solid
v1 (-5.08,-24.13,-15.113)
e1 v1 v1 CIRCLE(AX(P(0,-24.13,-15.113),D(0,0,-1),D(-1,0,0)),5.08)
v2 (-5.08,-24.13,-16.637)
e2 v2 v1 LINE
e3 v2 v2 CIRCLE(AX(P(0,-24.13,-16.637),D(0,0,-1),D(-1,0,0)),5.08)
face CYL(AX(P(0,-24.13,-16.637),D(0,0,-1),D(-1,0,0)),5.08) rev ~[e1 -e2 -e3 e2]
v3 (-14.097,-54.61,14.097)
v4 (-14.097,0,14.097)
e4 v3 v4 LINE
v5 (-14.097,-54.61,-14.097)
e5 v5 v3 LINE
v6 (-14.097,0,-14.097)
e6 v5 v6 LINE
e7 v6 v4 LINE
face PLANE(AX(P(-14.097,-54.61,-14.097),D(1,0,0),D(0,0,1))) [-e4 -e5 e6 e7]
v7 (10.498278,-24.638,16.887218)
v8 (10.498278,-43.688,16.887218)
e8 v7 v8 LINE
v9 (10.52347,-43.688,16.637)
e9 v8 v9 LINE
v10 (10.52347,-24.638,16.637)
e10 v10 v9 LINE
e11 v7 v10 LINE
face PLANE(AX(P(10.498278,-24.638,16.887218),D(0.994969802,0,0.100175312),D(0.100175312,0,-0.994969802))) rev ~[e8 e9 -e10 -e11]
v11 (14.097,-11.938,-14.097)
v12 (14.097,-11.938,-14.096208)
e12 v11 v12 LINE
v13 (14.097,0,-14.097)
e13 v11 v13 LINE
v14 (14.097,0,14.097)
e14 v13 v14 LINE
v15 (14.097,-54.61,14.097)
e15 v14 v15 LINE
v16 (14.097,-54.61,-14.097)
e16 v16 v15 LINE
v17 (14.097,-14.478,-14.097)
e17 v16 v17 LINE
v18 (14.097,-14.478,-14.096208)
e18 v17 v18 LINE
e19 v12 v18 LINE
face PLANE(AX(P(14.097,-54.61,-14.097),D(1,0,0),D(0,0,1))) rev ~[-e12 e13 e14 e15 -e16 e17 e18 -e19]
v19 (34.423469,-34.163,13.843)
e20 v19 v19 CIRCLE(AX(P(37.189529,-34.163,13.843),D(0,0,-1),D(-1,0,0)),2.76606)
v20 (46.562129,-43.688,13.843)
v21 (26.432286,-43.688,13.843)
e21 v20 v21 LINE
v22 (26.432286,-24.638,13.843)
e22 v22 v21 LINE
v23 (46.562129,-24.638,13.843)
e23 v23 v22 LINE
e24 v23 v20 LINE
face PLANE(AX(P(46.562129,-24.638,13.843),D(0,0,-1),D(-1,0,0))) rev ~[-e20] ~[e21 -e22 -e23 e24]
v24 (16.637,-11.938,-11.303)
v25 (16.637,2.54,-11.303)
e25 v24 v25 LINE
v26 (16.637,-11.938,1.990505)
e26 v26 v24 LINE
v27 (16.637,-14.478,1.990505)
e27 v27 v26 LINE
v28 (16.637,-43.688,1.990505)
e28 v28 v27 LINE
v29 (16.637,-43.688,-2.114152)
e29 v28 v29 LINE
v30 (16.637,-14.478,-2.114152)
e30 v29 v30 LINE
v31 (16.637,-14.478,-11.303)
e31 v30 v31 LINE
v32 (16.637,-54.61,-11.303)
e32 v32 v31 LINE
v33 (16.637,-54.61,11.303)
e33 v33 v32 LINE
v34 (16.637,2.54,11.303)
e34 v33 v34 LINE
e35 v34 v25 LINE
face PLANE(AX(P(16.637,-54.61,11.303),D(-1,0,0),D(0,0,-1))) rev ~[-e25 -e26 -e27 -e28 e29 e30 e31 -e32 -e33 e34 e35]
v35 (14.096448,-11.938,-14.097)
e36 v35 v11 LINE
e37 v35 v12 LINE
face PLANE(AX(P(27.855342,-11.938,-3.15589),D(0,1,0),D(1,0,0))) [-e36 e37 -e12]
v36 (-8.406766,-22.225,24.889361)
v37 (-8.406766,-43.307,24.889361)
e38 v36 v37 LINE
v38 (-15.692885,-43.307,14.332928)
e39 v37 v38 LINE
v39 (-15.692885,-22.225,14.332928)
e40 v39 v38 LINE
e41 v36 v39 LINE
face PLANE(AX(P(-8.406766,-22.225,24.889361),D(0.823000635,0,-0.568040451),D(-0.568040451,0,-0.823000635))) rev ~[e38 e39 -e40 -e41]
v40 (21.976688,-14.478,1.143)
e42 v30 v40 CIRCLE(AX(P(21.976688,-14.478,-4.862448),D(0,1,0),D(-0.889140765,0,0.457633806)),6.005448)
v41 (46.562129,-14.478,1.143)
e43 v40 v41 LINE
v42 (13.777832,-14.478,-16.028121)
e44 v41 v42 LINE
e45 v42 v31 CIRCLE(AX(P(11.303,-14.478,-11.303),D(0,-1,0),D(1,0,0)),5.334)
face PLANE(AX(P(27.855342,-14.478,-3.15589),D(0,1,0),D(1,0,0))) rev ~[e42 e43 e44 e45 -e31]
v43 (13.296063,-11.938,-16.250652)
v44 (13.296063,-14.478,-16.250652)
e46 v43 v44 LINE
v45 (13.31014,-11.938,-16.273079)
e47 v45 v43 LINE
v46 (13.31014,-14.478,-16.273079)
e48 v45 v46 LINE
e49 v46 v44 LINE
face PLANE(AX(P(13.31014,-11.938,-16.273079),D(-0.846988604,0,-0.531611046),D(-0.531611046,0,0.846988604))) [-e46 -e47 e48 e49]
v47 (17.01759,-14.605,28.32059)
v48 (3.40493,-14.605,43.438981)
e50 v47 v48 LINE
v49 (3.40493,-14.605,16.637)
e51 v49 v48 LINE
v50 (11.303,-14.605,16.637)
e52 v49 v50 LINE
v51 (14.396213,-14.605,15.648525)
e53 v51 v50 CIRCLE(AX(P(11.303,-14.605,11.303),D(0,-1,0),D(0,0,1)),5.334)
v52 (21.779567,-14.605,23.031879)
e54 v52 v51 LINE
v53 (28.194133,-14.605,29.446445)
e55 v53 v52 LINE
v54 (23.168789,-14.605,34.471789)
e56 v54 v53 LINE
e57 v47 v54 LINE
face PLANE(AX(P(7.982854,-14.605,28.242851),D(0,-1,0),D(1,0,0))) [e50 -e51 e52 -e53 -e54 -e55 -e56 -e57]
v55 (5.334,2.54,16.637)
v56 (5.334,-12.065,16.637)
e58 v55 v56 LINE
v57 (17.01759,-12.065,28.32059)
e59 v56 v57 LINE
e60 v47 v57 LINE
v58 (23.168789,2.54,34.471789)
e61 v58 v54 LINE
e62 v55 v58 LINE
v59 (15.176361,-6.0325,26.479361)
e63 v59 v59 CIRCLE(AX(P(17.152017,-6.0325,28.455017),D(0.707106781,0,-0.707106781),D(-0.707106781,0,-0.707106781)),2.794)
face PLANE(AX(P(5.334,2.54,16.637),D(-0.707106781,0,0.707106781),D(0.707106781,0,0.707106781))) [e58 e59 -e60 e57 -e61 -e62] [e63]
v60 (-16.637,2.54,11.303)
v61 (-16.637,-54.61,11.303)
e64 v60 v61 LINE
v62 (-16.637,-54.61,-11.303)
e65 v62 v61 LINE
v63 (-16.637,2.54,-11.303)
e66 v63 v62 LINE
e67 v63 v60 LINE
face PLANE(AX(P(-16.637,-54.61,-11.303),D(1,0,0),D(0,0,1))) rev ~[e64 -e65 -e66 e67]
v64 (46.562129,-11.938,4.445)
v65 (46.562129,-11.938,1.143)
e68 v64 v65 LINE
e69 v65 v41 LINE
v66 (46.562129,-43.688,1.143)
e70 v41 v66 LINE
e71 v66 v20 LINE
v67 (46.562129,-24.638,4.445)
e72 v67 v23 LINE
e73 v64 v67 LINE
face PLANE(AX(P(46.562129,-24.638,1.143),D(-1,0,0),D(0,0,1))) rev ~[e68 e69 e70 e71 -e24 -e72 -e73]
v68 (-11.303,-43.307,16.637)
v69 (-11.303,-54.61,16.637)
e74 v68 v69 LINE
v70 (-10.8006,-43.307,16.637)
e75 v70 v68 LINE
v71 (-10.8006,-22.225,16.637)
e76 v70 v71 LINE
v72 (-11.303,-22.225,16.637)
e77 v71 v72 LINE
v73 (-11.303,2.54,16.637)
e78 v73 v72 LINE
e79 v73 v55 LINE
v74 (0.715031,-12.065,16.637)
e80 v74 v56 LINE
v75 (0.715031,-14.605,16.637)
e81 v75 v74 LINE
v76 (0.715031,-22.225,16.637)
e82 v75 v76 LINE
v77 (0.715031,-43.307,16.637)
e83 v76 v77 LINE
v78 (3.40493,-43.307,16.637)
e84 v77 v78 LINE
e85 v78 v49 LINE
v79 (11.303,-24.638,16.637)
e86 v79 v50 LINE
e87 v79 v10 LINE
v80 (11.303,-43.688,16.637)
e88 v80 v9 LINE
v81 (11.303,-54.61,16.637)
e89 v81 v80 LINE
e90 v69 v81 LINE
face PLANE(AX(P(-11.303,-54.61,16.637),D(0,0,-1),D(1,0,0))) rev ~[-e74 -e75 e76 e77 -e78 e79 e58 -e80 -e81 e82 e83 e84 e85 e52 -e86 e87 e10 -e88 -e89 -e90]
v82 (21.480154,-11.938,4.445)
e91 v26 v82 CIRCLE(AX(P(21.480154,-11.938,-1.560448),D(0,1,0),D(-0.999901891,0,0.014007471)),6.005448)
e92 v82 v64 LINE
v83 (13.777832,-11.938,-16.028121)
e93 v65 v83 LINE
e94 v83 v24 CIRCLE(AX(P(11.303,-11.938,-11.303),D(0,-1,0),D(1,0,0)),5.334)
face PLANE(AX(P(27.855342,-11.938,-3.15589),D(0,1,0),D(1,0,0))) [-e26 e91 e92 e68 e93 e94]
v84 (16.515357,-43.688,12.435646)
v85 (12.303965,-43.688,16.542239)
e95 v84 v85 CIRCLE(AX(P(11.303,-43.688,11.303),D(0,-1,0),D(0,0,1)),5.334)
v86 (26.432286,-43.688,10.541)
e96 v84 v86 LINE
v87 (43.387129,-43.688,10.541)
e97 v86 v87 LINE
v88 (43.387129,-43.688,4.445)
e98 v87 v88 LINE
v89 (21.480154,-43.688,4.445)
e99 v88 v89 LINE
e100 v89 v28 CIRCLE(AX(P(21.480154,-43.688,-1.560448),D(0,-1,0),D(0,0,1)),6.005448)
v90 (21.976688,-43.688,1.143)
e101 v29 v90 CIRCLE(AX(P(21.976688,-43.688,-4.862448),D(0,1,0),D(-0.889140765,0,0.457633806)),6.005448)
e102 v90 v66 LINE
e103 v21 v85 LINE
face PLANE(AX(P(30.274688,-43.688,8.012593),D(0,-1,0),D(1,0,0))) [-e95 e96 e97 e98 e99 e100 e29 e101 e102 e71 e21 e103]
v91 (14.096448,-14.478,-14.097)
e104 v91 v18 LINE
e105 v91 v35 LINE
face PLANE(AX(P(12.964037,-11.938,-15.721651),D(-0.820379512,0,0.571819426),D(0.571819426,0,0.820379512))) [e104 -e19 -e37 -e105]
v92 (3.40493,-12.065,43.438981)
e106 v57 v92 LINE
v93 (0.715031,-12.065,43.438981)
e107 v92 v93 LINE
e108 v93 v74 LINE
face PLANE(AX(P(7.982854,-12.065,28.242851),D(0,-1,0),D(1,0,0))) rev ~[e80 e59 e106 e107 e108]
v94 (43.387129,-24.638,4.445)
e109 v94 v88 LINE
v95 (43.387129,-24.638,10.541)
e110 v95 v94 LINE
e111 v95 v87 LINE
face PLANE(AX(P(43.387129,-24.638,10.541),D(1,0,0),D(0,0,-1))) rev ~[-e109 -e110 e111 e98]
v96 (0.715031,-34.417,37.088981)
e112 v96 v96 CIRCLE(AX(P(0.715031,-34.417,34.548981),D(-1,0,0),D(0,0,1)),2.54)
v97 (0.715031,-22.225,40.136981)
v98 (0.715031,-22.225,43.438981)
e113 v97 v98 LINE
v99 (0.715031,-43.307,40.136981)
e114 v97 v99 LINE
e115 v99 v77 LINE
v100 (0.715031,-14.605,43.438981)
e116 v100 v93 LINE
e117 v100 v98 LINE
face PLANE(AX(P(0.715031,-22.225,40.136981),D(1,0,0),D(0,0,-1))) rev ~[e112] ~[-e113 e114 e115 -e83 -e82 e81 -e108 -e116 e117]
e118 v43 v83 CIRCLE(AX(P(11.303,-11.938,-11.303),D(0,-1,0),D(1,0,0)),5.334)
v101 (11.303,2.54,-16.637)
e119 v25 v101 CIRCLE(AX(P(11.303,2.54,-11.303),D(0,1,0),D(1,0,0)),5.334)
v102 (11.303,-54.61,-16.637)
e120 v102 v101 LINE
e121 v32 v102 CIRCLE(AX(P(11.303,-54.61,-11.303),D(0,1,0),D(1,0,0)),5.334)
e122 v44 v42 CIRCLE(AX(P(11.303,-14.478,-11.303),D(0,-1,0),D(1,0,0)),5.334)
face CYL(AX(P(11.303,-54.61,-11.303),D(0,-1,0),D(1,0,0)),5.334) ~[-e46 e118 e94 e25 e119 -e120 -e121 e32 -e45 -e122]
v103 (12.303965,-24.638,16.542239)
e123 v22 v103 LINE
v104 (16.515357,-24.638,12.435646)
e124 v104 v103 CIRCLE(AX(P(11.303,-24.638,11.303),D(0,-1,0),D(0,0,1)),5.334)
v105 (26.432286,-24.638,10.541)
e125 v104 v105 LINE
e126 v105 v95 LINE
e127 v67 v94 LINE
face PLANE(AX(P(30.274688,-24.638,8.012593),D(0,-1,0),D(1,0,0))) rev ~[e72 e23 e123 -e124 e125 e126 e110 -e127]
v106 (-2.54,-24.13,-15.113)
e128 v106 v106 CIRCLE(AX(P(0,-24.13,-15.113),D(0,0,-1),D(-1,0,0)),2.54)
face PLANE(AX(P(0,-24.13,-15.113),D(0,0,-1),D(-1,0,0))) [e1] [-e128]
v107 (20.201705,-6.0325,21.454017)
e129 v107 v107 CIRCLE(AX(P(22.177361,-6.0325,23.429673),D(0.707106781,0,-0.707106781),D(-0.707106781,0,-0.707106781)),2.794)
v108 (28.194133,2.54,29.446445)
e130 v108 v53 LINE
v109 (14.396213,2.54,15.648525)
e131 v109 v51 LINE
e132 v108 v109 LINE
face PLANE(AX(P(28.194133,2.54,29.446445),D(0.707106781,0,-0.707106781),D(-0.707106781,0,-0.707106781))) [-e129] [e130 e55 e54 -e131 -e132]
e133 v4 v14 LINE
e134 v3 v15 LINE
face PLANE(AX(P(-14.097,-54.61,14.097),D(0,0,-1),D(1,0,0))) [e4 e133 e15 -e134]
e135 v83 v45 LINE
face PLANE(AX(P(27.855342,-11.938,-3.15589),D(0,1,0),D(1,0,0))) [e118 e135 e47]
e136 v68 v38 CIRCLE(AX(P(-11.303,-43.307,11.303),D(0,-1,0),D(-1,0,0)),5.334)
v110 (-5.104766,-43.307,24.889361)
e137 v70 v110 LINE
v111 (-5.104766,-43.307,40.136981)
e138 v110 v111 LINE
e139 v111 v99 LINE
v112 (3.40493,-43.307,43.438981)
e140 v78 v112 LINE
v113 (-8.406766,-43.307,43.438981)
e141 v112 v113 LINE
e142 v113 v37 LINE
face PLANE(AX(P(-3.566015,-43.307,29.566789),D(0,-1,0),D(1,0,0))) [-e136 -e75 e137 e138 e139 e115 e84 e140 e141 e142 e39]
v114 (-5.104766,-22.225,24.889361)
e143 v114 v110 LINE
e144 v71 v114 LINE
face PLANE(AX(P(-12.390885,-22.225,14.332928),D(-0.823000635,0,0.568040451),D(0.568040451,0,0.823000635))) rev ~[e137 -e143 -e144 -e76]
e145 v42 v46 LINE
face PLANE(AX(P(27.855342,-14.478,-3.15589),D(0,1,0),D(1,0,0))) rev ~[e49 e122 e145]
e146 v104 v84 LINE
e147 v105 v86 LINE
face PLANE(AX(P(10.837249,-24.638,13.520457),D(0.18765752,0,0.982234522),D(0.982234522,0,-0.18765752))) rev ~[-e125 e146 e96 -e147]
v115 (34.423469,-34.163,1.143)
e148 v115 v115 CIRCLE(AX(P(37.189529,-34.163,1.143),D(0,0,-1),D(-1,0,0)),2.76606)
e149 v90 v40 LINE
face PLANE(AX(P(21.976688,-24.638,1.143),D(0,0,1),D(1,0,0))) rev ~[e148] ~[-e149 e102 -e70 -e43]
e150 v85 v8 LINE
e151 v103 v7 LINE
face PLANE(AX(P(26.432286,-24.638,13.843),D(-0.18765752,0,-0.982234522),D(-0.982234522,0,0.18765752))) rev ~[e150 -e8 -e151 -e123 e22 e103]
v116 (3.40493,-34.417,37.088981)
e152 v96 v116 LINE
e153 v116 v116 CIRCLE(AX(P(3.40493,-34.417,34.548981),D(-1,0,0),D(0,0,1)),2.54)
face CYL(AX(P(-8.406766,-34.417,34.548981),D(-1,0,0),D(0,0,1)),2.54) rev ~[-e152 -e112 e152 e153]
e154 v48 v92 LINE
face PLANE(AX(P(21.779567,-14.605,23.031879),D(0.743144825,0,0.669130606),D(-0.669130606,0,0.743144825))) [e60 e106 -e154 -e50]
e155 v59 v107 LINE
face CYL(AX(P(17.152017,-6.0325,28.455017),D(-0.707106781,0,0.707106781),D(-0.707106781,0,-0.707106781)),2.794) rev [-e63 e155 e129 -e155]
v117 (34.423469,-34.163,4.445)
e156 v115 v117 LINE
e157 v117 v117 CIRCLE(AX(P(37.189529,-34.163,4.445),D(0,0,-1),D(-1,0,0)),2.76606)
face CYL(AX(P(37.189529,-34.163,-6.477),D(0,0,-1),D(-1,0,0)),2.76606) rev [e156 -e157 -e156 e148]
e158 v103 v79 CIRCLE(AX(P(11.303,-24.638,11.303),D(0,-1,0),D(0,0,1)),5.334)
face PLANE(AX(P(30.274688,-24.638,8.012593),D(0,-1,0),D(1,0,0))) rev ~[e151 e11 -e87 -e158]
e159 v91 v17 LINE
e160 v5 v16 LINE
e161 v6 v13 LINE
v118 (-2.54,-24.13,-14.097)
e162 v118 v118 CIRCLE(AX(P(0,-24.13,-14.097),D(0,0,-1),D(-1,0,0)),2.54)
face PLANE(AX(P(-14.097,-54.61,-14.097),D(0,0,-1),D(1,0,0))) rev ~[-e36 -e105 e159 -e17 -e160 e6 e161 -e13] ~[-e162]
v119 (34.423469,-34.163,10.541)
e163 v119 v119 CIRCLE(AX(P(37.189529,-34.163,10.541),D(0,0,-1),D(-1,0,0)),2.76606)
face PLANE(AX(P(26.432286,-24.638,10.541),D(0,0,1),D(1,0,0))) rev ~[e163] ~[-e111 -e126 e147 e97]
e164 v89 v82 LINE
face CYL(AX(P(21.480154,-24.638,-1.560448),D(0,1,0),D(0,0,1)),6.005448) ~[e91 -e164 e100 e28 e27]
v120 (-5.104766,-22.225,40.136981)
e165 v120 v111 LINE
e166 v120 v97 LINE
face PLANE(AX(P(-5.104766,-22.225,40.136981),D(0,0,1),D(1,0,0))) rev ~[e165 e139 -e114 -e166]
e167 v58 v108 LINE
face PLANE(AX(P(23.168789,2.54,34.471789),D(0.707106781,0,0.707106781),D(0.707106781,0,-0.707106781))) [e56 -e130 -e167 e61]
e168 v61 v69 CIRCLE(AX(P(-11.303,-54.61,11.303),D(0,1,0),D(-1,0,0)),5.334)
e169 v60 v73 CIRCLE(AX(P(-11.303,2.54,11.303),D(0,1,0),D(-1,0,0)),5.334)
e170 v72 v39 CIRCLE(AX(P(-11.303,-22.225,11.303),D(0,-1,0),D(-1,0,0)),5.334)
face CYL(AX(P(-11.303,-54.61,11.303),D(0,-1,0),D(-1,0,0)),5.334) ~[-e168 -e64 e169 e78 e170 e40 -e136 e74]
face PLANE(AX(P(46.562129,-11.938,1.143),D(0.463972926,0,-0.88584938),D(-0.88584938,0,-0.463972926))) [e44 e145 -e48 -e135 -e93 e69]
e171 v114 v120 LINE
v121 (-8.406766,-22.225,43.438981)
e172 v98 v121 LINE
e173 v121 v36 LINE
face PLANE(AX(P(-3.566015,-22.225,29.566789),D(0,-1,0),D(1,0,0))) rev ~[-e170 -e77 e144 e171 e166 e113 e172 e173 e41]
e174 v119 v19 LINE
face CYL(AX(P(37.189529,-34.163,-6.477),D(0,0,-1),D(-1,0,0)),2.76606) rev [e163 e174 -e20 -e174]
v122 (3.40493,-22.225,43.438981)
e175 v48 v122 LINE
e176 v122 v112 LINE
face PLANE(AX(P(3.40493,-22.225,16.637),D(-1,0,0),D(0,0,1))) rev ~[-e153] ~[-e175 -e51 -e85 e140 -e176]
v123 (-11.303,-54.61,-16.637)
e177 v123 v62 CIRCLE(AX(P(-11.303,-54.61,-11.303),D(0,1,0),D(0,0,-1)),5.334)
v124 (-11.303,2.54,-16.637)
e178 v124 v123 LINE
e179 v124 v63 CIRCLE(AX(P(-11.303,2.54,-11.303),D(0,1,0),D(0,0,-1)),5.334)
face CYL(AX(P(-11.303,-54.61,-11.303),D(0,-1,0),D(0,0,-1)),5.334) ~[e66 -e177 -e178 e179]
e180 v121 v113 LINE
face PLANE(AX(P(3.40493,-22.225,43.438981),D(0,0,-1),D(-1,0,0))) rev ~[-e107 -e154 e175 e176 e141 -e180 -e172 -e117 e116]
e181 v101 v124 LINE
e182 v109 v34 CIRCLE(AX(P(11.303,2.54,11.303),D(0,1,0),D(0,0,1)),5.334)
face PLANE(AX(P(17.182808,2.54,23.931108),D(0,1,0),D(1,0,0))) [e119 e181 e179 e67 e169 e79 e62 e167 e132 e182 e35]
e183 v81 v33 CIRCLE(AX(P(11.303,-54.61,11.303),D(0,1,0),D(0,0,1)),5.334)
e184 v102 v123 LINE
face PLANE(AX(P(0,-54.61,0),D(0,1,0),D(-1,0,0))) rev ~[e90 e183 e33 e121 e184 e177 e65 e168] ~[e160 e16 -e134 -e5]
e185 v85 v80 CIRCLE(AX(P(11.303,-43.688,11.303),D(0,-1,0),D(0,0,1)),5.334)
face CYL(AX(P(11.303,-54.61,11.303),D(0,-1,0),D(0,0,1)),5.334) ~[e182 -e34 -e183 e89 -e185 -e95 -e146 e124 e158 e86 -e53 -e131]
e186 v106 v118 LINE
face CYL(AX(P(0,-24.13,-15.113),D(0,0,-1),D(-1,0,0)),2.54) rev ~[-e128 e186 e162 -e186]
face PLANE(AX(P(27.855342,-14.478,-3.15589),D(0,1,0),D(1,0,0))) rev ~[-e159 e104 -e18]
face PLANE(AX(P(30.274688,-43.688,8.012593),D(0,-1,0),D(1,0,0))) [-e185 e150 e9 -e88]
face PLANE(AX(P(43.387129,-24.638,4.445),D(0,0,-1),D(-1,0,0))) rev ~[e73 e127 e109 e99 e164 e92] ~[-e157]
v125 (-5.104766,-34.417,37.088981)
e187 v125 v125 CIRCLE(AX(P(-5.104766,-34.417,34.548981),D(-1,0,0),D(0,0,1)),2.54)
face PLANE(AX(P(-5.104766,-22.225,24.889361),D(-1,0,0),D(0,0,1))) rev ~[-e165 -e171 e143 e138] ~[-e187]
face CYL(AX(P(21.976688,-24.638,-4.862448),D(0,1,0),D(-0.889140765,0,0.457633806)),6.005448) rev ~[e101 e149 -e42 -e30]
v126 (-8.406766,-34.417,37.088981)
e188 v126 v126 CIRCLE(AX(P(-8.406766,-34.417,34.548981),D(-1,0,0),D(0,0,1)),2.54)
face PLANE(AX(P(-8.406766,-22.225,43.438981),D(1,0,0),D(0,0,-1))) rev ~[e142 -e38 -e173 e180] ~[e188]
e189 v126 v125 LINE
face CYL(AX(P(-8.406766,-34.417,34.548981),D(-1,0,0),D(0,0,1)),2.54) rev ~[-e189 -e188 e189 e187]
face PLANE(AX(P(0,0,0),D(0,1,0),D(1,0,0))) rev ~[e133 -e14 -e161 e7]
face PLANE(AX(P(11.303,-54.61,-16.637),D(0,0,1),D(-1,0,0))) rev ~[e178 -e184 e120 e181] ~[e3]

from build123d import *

# Parameters (mm, degrees)
BOSS_EXTRUDE1_DEPTH     = 2.54
BOSS_EXTRUDE2_START     = 54.61
SKETCH2_W               = 28.194
SKETCH2_H               = 28.194
BOSS_EXTRUDE2_DEPTH     = 54.61
SKETCH4_R               = 5.08
CUT_EXTRUDE2_DEPTH      = 1.524
SKETCH5_R               = 2.54
CUT_EXTRUDE3_DEPTH      = 1.016
BOSS_EXTRUDE3_DEPTH     = 17.145
CUT_EXTRUDE4_START      = -7.10691
SKETCH7_R               = 2.794
CUT_EXTRUDE4_DEPTH      = 7.10691
BOSS_EXTRUDE4_DEPTH     = 2.54
BOSS_EXTRUDE5_DEPTH     = 10.16
BOSS_EXTRUDE6_DEPTH     = 19.05
CUT_EXTRUDE5_DEPTH      = 13.716
CUT_EXTRUDE5_DEPTH_BACK = 20.32
SKETCH13_R              = 2.76606
BOSS_EXTRUDE12_DEPTH    = 2.54
SKETCH15_W              = 2.689899245
SKETCH15_H              = 26.801981191
BOSS_EXTRUDE13_DEPTH    = 7.62
BOSS_EXTRUDE14_DEPTH    = 21.082
SKETCH17_R              = 2.54
CUT_EXTRUDE7_DEPTH      = 21.082
CUT_EXTRUDE8_DEPTH      = 21.082


with BuildPart() as part:
    # Sketch1 → Boss-Extrude1 (new body)
    with BuildSketch(Plane(origin=(0, 0, 0), x_dir=(1, 0, 0), z_dir=(0, 1, 0))):
        with BuildLine():
            Line((-11.303, -16.637), (11.303, -16.637))
            ThreePointArc((11.303, -16.637), (15.074707571, -15.074707571), (16.637, -11.303))
            Line((16.637, -11.303), (16.637, 11.303))
            ThreePointArc((16.637, 11.303), (15.074707571, 15.074707571), (11.303, 16.637))
            Line((11.303, 16.637), (-11.303, 16.637))
            ThreePointArc((-11.303, 16.637), (-15.074707571, 15.074707571), (-16.637, 11.303))
            Line((-16.637, 11.303), (-16.637, -11.303))
            ThreePointArc((-16.637, -11.303), (-15.074707571, -15.074707571), (-11.303, -16.637))
        make_face()
    extrude(amount=BOSS_EXTRUDE1_DEPTH)

    # Sketch2 → Boss-Extrude2 (add)
    with BuildSketch(Plane.XZ.offset(BOSS_EXTRUDE2_START)):
        with BuildLine():
            Line((-11.303, 16.637), (11.303, 16.637))
            ThreePointArc((11.303, 16.637), (15.074707571, 15.074707571), (16.637, 11.303))
            Line((16.637, 11.303), (16.637, -11.303))
            ThreePointArc((16.637, -11.303), (15.074707571, -15.074707571), (11.303, -16.637))
            Line((11.303, -16.637), (-11.303, -16.637))
            ThreePointArc((-11.303, -16.637), (-15.074707571, -15.074707571), (-16.637, -11.303))
            Line((-16.637, -11.303), (-16.637, 11.303))
            ThreePointArc((-16.637, 11.303), (-15.074707571, 15.074707571), (-11.303, 16.637))
        make_face()
        Rectangle(SKETCH2_W, SKETCH2_H, mode=Mode.SUBTRACT)
    extrude(amount=-BOSS_EXTRUDE2_DEPTH)

    # Sketch4 → Cut-Extrude2 (cut)
    with BuildSketch(Plane(origin=(0, 0, -16.637), x_dir=(-1, 0, 0), z_dir=(0, 0, -1))):
        with Locations((0, -24.13)):
            Circle(SKETCH4_R)
    extrude(amount=-CUT_EXTRUDE2_DEPTH, mode=Mode.SUBTRACT)

    # Sketch5 → Cut-Extrude3 (cut)
    with BuildSketch(Plane(origin=(0, 0, -15.113), x_dir=(-1, 0, 0), z_dir=(0, 0, -1))):
        with Locations((0, -24.13)):
            Circle(SKETCH5_R)
    extrude(amount=-CUT_EXTRUDE3_DEPTH, mode=Mode.SUBTRACT)

    # Sketch6 → Boss-Extrude3 (add)
    with BuildSketch(Plane(origin=(0, 2.54, 0), x_dir=(1, 0, 0), z_dir=(0, 1, 0))):
        Polygon((5.334, -16.637), (23.168788656, -34.471788656), (28.194132537, -29.446444776), (14.396212982, -15.648525221), align=None)
    extrude(amount=-BOSS_EXTRUDE3_DEPTH)

    # Sketch7 → Cut-Extrude4 (cut)
    with BuildSketch(Plane(origin=(-0.62615612, 0, 0.62615612), x_dir=(-0.7071067811865477, 0, -0.7071067811865475), z_dir=(0.7071067811865475, 0, -0.7071067811865477)).offset(CUT_EXTRUDE4_START)):
        with Locations((-32.249043089, -6.0325)):
            Circle(SKETCH7_R)
    extrude(amount=CUT_EXTRUDE4_DEPTH, mode=Mode.SUBTRACT)

    # Sketch9 → Boss-Extrude4 (add)
    with BuildSketch(Plane(origin=(0, -11.938, 0), x_dir=(1, 0, 0), z_dir=(0, 1, 0))):
        with BuildLine():
            Line((46.562129264, -1.143), (13.310139602, 16.273079187))
            Line((13.310139602, 16.273079187), (12.964036607, 15.721651043))
            Line((12.964036607, 15.721651043), (15.475295461, 12.118791083))
            Line((15.475295461, 12.118791083), (15.475295461, 3.129239018))
            Line((15.475295461, 3.129239018), (15.475295461, 1.47632638))
            ThreePointArc((15.475295461, 1.47632638), (17.263507322, -2.715683033), (21.480153786, -4.445))
            Line((21.480153786, -4.445), (38.24328617, -4.445))
            Line((38.24328617, -4.445), (46.562129264, -4.445))
            Line((46.562129264, -4.445), (46.562129264, -1.143))
        make_face()
    extrude(amount=-BOSS_EXTRUDE4_DEPTH)

    # Sketch10 → Boss-Extrude5 (add)
    with BuildSketch(Plane.XZ.offset(14.478)):
        with BuildLine():
            Line((46.562129264, 1.143), (46.562129264, 4.445))
            Line((46.562129264, 4.445), (21.480153786, 4.445))
            ThreePointArc((21.480153786, 4.445), (18.765347806, 3.796345215), (16.637, 1.990504648))
            Line((16.637, 1.990504648), (16.637, -2.114151714))
            ThreePointArc((16.637, -2.114151714), (18.849336789, 0.264449502), (21.976688198, 1.143))
            Line((21.976688198, 1.143), (46.562129264, 1.143))
        make_face()
    extrude(amount=BOSS_EXTRUDE5_DEPTH)

    # Sketch11 → Boss-Extrude6 (add)
    with BuildSketch(Plane.XZ.offset(24.638)):
        with BuildLine():
            Line((21.976688198, 1.143), (46.562129264, 1.143))
            Line((46.562129264, 1.143), (46.562129264, 4.445))
            Line((46.562129264, 4.445), (46.562129264, 13.843))
            Line((46.562129264, 13.843), (26.43228617, 13.843))
            Line((26.43228617, 13.843), (10.498277863, 16.887218473))
            Line((10.498277863, 16.887218473), (10.837249294, 13.520457424))
            Line((10.837249294, 13.520457424), (26.43228617, 10.541))
            Line((26.43228617, 10.541), (43.387129264, 10.541))
            Line((43.387129264, 10.541), (43.387129264, 4.445))
            Line((43.387129264, 4.445), (21.480153786, 4.445))
            ThreePointArc((21.480153786, 4.445), (18.765347806, 3.796345215), (16.637, 1.990504648))
            Line((16.637, 1.990504648), (16.637, -2.114151714))
            ThreePointArc((16.637, -2.114151714), (18.849336789, 0.264449502), (21.976688198, 1.143))
        make_face()
    extrude(amount=BOSS_EXTRUDE6_DEPTH)

    # Sketch13 → Cut-Extrude5 (cut, two sides: drawn at the far end of the back side and taken through both)
    with BuildSketch(Plane.XY.offset(13.843).offset(-CUT_EXTRUDE5_DEPTH_BACK)):
        with Locations(Location((37.189529264, -34.163, 0), (0, 0, 180))):
            Circle(SKETCH13_R)
    extrude(amount=CUT_EXTRUDE5_DEPTH + CUT_EXTRUDE5_DEPTH_BACK, mode=Mode.SUBTRACT)

    # Sketch14 → Boss-Extrude12 (add)
    with BuildSketch(Plane.XZ.offset(14.605)):
        Polygon((3.404930005, 43.438981191), (0.71503076, 43.438981191), (0.71503076, 16.637), (5.334, 16.637), (11.303, 16.637), (21.779567071, 23.03187931), align=None)
    extrude(amount=-BOSS_EXTRUDE12_DEPTH)

    # Sketch15 → Boss-Extrude13 (add)
    with BuildSketch(Plane.XZ.offset(14.605)):
        with Locations((2.059980383, 30.037990596)):
            Rectangle(SKETCH15_W, SKETCH15_H)
    extrude(amount=BOSS_EXTRUDE13_DEPTH)

    # Sketch16 → Boss-Extrude14 (add)
    with BuildSketch(Plane.XZ.offset(22.225)):
        Polygon((3.404930005, 16.637), (3.404930005, 43.438981191), (-8.406765612, 43.438981191), (-8.406765612, 24.889361191), (-15.692885389, 14.332927767), (-12.390885389, 14.332927767), (-5.104765612, 24.889361191), (-5.104765612, 40.136981191), (0.71503076, 40.136981191), (0.71503076, 16.637), align=None)
    extrude(amount=BOSS_EXTRUDE14_DEPTH)

    # Sketch17 → Cut-Extrude7 (cut)
    with BuildSketch(Plane.ZY.offset(8.406765612)):
        with Locations((34.548981191, -34.417)):
            Circle(SKETCH17_R)
    extrude(amount=-CUT_EXTRUDE7_DEPTH, mode=Mode.SUBTRACT)

    # Sketch18 → Cut-Extrude8 (cut)
    with BuildSketch(Plane.XZ.offset(43.688)):
        Polygon((14.097, 12.897676695), (10.837249294, 13.520457424), (10.779201972, 14.097), (14.097, 14.097), align=None)
    extrude(amount=-CUT_EXTRUDE8_DEPTH, mode=Mode.SUBTRACT)


solid = part.part
